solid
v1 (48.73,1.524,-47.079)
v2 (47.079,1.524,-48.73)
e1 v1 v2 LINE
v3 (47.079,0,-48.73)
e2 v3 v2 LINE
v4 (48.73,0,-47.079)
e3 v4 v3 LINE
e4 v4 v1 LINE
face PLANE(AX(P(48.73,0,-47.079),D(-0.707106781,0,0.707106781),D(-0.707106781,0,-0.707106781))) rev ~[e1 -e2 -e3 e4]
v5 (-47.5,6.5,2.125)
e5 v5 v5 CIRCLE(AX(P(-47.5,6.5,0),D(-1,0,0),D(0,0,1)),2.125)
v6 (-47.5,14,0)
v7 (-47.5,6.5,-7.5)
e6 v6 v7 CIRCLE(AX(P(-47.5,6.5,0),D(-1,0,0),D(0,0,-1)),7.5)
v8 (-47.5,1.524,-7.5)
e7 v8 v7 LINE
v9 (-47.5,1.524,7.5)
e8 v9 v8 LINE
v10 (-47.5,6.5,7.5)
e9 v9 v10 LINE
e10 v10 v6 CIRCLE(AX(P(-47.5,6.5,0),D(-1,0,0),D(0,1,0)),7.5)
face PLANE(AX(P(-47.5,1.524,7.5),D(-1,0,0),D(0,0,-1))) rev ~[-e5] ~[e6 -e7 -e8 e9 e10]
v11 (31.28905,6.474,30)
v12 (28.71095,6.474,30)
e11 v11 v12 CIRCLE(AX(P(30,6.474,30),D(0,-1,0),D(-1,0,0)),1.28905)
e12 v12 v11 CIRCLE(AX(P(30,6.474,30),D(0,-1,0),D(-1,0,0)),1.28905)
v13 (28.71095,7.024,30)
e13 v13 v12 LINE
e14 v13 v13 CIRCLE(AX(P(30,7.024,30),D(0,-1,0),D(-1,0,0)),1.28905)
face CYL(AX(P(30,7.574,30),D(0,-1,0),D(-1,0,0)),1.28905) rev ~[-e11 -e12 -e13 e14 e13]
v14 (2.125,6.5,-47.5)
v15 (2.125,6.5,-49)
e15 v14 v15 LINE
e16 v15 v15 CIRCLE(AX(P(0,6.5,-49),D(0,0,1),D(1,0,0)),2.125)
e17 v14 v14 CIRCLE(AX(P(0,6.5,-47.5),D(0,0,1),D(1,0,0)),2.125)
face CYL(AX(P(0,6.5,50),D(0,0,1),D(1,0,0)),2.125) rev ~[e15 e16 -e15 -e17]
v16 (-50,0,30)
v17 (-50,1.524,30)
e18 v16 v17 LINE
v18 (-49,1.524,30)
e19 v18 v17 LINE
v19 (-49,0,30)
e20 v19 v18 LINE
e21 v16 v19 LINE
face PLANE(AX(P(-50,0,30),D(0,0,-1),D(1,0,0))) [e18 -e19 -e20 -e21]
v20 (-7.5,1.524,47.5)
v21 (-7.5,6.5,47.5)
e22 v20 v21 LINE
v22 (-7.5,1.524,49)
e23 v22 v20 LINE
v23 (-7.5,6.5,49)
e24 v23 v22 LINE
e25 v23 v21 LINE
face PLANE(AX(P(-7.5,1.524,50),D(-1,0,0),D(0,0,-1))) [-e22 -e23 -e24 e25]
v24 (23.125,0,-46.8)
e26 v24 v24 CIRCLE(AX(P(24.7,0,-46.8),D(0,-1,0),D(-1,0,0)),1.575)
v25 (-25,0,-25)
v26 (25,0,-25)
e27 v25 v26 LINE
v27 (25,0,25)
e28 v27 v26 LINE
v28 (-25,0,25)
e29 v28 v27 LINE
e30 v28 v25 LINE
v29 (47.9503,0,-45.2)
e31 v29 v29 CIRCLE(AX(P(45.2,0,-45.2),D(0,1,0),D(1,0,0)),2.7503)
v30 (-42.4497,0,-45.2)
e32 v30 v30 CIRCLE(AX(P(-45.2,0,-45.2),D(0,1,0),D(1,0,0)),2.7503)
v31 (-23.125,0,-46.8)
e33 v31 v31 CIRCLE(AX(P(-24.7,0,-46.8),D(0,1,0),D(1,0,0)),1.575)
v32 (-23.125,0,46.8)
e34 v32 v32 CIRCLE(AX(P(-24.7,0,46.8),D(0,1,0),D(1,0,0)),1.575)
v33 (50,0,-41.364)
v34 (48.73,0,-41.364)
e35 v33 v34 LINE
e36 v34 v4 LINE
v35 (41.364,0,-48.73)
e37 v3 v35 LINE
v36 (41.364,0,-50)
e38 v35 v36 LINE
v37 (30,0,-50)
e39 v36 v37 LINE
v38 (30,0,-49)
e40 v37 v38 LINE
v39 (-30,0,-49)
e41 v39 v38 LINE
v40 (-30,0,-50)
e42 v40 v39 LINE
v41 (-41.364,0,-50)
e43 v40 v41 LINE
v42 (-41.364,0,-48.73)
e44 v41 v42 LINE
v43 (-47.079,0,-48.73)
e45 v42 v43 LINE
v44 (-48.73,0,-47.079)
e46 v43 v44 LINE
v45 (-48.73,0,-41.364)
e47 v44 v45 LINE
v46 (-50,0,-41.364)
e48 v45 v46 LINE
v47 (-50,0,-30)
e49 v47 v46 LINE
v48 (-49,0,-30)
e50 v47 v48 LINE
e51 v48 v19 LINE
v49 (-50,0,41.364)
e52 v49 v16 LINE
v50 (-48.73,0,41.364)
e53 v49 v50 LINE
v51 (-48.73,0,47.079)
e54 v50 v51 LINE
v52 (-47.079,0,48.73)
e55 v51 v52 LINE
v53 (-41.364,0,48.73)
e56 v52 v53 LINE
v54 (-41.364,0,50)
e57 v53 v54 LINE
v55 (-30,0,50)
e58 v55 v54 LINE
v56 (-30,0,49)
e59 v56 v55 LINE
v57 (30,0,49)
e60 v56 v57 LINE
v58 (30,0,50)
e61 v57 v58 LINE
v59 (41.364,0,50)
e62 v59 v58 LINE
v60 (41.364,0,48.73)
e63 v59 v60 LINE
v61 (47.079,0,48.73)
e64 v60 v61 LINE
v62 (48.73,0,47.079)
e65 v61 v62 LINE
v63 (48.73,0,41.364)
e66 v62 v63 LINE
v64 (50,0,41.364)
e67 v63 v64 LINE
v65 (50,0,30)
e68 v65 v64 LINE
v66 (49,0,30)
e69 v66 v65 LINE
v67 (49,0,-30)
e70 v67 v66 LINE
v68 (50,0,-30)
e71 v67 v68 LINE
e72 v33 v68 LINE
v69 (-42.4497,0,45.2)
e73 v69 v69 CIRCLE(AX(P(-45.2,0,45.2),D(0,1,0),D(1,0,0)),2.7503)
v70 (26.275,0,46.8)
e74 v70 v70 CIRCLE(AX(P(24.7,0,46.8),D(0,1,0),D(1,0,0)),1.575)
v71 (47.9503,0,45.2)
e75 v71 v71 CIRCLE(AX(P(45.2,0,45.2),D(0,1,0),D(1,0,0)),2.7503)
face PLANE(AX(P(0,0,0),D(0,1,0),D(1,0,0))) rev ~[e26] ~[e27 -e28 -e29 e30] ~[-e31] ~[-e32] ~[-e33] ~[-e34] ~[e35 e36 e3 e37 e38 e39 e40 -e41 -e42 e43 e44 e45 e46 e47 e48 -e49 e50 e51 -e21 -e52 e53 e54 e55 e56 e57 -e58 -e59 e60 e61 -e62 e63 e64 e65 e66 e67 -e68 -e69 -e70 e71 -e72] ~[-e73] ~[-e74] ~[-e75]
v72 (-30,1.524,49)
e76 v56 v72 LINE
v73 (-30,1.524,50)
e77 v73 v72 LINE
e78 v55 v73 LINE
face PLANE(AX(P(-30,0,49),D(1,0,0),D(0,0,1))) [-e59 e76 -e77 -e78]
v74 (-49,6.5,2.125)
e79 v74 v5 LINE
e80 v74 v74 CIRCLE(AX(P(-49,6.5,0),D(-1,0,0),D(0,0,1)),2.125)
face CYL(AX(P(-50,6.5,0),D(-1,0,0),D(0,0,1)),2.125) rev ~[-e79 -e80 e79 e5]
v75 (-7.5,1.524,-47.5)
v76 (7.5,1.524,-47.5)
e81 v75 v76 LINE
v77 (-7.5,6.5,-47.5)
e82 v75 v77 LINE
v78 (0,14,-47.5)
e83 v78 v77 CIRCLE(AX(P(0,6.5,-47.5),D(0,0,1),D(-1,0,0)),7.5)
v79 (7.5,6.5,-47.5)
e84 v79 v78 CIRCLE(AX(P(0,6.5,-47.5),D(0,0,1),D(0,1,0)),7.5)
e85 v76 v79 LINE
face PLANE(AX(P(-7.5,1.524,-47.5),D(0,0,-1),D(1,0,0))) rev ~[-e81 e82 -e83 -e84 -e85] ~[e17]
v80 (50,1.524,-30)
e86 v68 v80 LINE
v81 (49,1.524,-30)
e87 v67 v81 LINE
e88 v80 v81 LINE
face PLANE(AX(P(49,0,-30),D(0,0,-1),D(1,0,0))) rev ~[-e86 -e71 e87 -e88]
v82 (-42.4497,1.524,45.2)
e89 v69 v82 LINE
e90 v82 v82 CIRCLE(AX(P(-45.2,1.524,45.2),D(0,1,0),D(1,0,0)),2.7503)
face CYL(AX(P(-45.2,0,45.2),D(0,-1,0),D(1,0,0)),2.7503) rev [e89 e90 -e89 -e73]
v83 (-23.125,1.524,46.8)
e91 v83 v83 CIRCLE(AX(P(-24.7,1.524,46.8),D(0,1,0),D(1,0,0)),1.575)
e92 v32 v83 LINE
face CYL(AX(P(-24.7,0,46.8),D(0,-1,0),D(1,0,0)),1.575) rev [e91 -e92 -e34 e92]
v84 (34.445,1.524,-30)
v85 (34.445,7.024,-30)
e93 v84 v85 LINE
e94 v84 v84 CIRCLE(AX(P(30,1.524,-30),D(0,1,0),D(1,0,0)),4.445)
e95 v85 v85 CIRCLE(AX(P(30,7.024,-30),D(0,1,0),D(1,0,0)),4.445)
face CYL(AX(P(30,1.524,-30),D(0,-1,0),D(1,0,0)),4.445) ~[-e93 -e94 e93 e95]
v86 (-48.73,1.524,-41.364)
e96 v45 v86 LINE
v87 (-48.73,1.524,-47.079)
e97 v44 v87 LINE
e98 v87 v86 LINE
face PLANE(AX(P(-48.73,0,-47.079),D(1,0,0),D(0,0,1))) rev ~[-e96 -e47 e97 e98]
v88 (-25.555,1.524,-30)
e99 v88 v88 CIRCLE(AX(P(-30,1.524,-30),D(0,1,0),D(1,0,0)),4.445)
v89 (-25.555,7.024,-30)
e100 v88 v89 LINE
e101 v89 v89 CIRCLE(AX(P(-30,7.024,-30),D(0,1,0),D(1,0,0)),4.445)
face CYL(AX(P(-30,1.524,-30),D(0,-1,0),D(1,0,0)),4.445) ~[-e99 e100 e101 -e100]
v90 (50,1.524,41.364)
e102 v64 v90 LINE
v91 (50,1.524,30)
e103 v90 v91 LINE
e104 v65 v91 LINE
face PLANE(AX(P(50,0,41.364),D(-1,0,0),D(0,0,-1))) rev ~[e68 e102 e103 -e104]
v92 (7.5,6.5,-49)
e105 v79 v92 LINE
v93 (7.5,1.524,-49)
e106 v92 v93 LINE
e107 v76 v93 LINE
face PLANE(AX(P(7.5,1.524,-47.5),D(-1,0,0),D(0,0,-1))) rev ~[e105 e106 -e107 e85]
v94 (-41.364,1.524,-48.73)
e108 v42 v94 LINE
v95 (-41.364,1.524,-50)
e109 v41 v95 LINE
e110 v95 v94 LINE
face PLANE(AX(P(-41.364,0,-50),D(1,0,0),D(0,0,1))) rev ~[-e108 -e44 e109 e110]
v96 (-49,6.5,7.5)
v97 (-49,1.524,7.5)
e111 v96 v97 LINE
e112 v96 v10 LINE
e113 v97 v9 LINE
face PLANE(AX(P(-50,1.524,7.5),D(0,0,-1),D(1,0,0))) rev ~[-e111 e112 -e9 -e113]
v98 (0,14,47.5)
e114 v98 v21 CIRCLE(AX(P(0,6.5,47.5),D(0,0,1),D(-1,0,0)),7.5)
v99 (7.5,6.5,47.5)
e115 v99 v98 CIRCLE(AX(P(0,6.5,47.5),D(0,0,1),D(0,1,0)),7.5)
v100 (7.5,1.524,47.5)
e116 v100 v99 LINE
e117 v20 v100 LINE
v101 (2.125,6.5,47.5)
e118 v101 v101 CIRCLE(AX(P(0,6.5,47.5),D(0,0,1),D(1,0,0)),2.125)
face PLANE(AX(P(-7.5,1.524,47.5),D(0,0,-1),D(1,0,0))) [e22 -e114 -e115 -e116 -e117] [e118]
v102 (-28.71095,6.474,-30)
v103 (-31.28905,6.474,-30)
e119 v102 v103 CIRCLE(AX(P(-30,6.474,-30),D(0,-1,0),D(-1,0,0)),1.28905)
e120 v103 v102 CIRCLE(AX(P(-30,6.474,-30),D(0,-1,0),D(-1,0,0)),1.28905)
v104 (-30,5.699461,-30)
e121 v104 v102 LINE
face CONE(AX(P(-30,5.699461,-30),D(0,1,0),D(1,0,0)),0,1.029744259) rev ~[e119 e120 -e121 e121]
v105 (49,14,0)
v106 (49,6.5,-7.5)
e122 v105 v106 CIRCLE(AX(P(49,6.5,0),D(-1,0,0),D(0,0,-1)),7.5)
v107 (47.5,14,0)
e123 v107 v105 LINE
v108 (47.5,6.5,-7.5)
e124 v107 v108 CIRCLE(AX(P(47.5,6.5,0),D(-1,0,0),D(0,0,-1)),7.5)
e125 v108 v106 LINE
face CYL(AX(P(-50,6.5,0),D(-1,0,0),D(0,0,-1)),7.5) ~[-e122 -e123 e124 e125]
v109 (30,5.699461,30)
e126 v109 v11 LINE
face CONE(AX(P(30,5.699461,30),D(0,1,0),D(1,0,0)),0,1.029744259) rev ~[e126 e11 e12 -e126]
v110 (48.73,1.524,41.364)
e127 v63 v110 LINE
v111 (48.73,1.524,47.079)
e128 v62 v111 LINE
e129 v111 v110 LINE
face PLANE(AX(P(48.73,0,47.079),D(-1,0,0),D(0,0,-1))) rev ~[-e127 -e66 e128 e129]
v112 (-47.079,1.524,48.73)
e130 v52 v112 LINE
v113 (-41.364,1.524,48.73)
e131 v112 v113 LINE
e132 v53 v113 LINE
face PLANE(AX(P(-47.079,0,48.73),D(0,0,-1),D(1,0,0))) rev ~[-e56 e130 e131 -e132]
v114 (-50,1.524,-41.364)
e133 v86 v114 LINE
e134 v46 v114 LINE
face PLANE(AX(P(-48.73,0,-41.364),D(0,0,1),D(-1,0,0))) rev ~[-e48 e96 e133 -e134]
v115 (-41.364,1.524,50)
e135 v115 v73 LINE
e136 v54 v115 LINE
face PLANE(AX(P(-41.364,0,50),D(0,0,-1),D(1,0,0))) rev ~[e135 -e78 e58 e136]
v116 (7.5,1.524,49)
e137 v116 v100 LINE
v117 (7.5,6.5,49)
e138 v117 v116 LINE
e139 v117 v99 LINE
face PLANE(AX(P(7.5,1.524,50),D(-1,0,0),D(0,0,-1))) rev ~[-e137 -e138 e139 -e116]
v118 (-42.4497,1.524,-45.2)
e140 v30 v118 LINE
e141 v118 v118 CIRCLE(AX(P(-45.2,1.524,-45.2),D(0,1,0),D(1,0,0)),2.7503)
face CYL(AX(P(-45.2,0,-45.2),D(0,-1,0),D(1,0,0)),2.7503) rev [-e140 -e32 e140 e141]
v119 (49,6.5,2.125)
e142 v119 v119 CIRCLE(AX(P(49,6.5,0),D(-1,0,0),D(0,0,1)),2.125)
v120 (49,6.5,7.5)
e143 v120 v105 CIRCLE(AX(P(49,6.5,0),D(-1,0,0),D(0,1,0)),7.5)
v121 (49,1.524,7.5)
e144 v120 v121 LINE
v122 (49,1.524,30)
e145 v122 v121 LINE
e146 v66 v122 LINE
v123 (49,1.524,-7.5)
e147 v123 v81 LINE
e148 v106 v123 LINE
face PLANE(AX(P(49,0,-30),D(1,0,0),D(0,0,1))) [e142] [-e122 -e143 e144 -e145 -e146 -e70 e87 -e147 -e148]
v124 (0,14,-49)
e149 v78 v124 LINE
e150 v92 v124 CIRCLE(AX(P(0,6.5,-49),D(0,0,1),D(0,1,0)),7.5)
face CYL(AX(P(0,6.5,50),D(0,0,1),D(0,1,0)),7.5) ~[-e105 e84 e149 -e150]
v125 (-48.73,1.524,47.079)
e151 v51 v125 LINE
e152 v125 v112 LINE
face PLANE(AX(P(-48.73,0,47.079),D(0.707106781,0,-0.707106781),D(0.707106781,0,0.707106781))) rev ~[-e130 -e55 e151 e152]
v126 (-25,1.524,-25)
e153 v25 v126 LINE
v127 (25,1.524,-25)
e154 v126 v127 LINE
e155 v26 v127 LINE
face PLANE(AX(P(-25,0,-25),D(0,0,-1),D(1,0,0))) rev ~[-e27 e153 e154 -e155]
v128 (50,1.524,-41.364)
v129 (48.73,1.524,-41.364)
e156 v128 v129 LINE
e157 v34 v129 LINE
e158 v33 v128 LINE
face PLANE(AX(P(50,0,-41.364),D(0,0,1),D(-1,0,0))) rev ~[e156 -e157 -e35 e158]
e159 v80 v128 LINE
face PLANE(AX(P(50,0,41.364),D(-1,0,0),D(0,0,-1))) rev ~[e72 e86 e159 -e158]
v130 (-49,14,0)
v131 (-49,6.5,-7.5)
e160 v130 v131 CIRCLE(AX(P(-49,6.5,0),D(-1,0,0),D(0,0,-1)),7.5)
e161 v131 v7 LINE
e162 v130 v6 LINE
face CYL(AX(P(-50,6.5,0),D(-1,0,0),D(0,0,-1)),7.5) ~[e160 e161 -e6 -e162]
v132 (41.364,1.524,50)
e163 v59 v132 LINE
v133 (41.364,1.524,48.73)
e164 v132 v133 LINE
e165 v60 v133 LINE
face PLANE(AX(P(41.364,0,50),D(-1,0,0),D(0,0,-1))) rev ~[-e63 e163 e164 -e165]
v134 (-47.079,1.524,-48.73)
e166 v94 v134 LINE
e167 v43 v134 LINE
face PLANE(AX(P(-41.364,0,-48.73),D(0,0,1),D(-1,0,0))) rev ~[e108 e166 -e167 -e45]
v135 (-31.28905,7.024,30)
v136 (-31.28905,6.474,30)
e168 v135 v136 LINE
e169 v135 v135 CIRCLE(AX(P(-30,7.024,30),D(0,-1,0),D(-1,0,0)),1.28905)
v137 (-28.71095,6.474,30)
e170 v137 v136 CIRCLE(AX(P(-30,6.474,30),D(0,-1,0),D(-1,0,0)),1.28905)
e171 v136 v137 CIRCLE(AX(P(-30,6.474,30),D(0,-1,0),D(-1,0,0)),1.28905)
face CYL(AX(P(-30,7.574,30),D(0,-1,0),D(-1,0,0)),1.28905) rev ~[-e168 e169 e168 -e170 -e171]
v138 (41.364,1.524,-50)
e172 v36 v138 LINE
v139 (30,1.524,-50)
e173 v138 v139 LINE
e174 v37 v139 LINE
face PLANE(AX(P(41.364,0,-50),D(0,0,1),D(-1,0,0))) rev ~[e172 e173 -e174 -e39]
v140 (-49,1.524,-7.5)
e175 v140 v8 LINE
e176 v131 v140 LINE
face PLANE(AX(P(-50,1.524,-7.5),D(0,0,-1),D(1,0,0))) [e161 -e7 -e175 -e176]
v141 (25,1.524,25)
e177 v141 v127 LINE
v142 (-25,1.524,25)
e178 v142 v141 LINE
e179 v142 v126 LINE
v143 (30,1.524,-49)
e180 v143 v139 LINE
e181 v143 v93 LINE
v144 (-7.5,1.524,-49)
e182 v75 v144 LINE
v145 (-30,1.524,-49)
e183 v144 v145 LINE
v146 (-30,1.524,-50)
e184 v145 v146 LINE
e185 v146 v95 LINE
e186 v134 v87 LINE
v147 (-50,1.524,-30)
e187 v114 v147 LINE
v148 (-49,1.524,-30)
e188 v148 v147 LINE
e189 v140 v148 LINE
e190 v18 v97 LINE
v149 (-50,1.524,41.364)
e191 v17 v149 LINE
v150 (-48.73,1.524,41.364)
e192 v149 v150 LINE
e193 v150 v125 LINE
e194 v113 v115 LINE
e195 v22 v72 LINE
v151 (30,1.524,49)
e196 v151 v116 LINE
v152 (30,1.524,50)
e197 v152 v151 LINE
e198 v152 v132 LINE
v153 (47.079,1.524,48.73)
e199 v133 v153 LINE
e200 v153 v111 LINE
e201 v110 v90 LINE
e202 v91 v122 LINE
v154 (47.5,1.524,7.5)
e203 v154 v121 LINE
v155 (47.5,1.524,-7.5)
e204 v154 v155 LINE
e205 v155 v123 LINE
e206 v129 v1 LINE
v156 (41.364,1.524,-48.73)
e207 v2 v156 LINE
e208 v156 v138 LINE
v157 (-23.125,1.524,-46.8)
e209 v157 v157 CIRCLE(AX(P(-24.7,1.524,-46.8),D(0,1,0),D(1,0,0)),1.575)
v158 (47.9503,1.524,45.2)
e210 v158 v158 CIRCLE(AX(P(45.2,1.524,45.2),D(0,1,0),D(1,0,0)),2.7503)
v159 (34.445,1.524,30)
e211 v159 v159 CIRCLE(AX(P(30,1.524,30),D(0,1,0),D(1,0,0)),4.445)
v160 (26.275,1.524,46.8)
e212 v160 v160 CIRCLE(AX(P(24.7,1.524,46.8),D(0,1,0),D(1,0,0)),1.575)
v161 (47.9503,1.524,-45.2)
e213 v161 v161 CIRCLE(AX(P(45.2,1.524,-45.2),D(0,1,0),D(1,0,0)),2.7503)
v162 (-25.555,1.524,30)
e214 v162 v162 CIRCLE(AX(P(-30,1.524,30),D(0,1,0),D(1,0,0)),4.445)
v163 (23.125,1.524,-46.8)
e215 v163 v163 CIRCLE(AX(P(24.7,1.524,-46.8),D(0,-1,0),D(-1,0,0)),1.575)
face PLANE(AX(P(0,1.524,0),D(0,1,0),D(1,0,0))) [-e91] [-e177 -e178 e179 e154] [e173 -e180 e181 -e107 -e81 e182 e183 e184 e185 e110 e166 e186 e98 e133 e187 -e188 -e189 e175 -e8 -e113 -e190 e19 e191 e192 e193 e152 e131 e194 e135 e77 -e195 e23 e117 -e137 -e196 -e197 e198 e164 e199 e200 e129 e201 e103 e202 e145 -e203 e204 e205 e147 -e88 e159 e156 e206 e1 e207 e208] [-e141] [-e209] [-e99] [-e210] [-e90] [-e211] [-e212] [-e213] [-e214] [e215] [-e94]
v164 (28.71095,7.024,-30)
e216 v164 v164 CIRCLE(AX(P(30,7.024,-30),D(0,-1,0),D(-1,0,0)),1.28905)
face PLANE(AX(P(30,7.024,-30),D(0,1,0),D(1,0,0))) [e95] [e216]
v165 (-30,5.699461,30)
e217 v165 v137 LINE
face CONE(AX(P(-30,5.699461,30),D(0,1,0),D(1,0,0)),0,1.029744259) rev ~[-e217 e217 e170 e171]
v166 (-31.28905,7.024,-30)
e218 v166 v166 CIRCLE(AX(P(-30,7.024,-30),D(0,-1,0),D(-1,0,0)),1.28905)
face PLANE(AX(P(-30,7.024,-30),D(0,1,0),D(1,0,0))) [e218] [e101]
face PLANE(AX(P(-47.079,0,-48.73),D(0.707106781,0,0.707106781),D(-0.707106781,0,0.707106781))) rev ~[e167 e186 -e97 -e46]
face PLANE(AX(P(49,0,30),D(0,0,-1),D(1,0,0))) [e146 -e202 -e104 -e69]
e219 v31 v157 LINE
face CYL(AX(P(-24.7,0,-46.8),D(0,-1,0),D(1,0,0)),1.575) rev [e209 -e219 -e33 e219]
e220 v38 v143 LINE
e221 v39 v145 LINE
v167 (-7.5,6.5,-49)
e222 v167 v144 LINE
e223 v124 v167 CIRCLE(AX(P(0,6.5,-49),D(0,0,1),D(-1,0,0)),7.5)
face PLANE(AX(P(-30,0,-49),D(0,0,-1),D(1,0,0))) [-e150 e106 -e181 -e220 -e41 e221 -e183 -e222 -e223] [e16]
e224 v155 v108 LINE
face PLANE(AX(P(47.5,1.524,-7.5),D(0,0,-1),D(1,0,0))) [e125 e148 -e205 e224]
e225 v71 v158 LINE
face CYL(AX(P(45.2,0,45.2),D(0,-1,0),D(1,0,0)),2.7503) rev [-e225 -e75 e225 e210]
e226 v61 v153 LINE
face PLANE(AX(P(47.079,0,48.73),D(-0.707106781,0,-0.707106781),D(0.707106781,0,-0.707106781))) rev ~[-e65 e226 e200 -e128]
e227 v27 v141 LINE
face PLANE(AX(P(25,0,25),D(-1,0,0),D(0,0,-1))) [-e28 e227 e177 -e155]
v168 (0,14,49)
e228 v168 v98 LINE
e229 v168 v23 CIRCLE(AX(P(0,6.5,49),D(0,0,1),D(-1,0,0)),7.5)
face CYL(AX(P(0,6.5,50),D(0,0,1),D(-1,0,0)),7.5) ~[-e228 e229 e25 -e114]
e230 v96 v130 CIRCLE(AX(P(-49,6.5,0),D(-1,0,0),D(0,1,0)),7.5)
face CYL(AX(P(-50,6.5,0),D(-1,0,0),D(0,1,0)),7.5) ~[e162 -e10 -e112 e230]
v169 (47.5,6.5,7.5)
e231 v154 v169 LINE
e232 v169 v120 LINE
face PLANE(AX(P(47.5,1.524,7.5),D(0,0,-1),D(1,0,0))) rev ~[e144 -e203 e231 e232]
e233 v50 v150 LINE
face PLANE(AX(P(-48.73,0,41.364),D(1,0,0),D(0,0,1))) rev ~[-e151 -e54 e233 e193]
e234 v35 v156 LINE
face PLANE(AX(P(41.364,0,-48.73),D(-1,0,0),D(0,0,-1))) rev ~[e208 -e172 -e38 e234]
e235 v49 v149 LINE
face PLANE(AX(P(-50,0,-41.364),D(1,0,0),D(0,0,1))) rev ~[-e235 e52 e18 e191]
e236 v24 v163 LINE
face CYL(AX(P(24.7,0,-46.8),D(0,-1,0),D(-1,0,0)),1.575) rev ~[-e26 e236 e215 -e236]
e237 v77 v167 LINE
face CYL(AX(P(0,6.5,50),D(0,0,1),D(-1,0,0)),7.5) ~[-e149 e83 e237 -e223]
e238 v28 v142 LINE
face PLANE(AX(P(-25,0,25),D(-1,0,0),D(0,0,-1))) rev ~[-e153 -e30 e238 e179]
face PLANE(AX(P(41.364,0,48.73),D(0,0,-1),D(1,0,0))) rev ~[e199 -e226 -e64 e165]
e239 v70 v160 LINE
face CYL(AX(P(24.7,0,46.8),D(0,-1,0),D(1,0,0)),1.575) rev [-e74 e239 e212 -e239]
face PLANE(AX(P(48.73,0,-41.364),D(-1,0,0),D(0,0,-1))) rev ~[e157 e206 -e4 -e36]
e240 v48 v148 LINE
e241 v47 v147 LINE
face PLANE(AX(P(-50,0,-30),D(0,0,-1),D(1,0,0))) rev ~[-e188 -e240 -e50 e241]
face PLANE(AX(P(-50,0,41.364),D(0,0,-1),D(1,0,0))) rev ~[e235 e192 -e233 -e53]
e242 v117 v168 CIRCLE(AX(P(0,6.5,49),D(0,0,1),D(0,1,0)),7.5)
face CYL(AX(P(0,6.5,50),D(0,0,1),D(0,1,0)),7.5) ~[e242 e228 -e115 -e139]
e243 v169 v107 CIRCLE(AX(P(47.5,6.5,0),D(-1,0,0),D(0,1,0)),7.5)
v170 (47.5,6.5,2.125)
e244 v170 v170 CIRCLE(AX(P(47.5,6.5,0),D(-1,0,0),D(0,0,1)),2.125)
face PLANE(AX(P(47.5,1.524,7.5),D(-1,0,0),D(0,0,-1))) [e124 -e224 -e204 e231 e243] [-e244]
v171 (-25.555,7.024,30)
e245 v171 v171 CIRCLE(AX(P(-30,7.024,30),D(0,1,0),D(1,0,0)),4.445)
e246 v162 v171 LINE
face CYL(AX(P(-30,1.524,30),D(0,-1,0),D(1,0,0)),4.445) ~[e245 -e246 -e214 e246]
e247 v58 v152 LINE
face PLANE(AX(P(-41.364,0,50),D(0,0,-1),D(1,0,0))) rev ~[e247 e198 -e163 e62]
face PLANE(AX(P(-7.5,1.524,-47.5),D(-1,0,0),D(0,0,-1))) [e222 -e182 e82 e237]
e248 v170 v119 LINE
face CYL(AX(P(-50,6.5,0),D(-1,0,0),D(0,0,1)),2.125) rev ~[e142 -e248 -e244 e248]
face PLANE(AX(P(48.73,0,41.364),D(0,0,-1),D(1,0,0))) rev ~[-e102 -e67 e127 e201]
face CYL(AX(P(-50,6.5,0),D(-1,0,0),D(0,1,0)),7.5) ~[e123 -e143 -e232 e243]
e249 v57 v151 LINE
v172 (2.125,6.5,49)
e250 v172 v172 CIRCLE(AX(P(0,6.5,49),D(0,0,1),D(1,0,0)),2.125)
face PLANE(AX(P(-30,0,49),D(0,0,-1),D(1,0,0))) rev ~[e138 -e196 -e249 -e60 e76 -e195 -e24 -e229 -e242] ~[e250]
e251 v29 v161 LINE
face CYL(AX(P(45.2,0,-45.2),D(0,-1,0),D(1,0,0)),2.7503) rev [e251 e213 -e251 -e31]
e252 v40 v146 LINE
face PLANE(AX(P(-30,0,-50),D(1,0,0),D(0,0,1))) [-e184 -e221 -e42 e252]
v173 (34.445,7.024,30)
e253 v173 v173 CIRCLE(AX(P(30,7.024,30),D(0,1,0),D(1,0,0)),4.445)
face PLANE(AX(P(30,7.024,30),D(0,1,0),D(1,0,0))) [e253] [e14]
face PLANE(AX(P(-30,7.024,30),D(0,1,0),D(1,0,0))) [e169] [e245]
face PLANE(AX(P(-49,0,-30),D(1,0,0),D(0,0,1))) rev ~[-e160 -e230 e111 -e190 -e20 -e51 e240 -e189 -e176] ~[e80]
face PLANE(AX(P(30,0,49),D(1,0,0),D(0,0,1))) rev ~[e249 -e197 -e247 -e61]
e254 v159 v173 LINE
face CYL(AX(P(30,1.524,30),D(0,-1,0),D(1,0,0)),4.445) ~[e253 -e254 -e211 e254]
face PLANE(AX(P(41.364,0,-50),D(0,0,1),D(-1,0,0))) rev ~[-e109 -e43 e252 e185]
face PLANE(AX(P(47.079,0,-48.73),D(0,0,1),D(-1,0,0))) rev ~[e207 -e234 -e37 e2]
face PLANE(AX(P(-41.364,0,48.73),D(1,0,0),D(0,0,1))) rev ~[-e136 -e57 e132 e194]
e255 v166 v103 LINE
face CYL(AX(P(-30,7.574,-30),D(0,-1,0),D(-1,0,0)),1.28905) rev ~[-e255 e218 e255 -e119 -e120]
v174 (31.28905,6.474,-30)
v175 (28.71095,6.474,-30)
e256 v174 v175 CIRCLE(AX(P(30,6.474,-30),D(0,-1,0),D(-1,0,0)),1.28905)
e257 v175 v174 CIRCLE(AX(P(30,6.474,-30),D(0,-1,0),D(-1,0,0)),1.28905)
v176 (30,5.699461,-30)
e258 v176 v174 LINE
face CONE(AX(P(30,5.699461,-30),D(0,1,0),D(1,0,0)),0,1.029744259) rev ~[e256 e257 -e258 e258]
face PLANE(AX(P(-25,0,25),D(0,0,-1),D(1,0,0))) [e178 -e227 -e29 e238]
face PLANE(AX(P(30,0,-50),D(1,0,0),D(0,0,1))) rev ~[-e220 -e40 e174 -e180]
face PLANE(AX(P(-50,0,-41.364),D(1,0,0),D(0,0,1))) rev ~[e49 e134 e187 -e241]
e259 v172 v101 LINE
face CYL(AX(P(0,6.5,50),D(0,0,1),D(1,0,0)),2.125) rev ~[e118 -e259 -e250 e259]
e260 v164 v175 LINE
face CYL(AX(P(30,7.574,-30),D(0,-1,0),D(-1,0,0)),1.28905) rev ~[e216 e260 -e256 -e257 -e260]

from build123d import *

# Parameters (mm, degrees)
SKETCH1_R                 = 2.7503
SKETCH1_R_2               = 1.575
SKETCH1_W                 = 50
SKETCH1_H                 = 50
BOSS_EXTRUDE1_DEPTH       = 1.524
SKETCH2_W                 = 15
SKETCH2_H                 = 2.5
SKETCH2_W_2               = 2.5
SKETCH2_H_2               = 15
BOSS_EXTRUDE2_DEPTH       = 12.476
SKETCH3_R                 = 2.125
CUT_EXTRUDE1_DEPTH        = 1
CUT_EXTRUDE1_DEPTH_BACK   = 101
SKETCH4_R                 = 2.125
CUT_EXTRUDE2_DEPTH        = 1
CUT_EXTRUDE2_DEPTH_BACK   = 101
SKETCH5_W                 = 60
SKETCH5_H                 = 1
SKETCH5_W_2               = 1
SKETCH5_H_2               = 60
CUT_EXTRUDE3_DEPTH        = 1
CUT_EXTRUDE3_DEPTH_BACK   = 15
SKETCH6_R                 = 4.445
BOSS_EXTRUDE3_DEPTH       = 5.5
F_5_40_TAPPED_HOLE1_D     = 2.5781
F_5_40_TAPPED_HOLE1_DEPTH = 0.55
F_5_40_TAPPED_HOLE1_TIP   = 0.774539381


with BuildPart() as part:
    # Sketch1 → Boss-Extrude1 (new body)
    with BuildSketch(Plane(origin=(0, 0, 0), x_dir=(1, 0, 0), z_dir=(0, 1, 0))):
        Polygon((41.364, 50), (-41.364, 50), (-41.364, 48.73), (-47.079, 48.73), (-48.73, 47.079), (-48.73, 41.364), (-50, 41.364), (-50, -41.364), (-48.73, -41.364), (-48.73, -47.079), (-47.079, -48.73), (-41.364, -48.73), (-41.364, -50), (41.364, -50), (41.364, -48.73), (47.079, -48.73), (48.73, -47.079), (48.73, -41.364), (50, -41.364), (50, 41.364), (48.73, 41.364), (48.73, 47.079), (47.079, 48.73), (41.364, 48.73), align=None)
        with Locations((-45.2, -45.2)):
            Circle(SKETCH1_R, mode=Mode.SUBTRACT)
        with Locations((-24.7, -46.8)):
            Circle(SKETCH1_R_2, mode=Mode.SUBTRACT)
        with Locations((24.7, -46.8)):
            Circle(SKETCH1_R_2, mode=Mode.SUBTRACT)
        with Locations((45.2, -45.2)):
            Circle(SKETCH1_R, mode=Mode.SUBTRACT)
        Rectangle(SKETCH1_W, SKETCH1_H, mode=Mode.SUBTRACT)
        with Locations((-45.2, 45.2)):
            Circle(SKETCH1_R, mode=Mode.SUBTRACT)
        with Locations((-24.7, 46.8)):
            Circle(SKETCH1_R_2, mode=Mode.SUBTRACT)
        with BuildLine():
            ThreePointArc((26.275, 46.8), (24.7, 45.225), (23.125, 46.8))
            ThreePointArc((23.125, 46.8), (24.7, 48.375), (26.275, 46.8))
        make_face(mode=Mode.SUBTRACT)
        with Locations((45.2, 45.2)):
            Circle(SKETCH1_R, mode=Mode.SUBTRACT)
    extrude(amount=BOSS_EXTRUDE1_DEPTH)

    # Sketch2 → Boss-Extrude2 (add)
    with BuildSketch(Plane(origin=(0, 1.524, 0), x_dir=(1, 0, 0), z_dir=(0, 1, 0))):
        with Locations((0, 48.75)):
            Rectangle(SKETCH2_W, SKETCH2_H)
        with Locations((48.75, 0)):
            Rectangle(SKETCH2_W_2, SKETCH2_H_2)
        with Locations((0, -48.75)):
            Rectangle(SKETCH2_W, SKETCH2_H)
        with Locations((-48.75, 0)):
            Rectangle(SKETCH2_W_2, SKETCH2_H_2)
    extrude(amount=BOSS_EXTRUDE2_DEPTH)

    # Sketch3 → Cut-Extrude1 (cut, two sides)
    with BuildSketch(Plane.XY.offset(50)) as cut_extrude1_sk:
        with BuildLine():
            ThreePointArc((0, 14), (5.303300859, 11.803300859), (7.5, 6.5))
            Line((7.5, 6.5), (7.5, 14))
            Line((7.5, 14), (0, 14))
        make_face()
        with BuildLine():
            ThreePointArc((-7.5, 6.5), (-5.303300859, 11.803300859), (0, 14))
            Line((0, 14), (-7.5, 14))
            Line((-7.5, 14), (-7.5, 6.5))
        make_face()
        with Locations((0, 6.5)):
            Circle(SKETCH3_R)
    extrude(amount=CUT_EXTRUDE1_DEPTH, mode=Mode.SUBTRACT)
    extrude(cut_extrude1_sk.sketch, amount=-CUT_EXTRUDE1_DEPTH_BACK, mode=Mode.SUBTRACT)

    # Sketch4 → Cut-Extrude2 (cut, two sides)
    with BuildSketch(Plane.ZY.offset(50)) as cut_extrude2_sk:
        with Locations((0, 6.5)):
            Circle(SKETCH4_R)
        with BuildLine():
            ThreePointArc((0, 14), (5.303300859, 11.803300859), (7.5, 6.5))
            Line((7.5, 6.5), (7.5, 14))
            Line((7.5, 14), (0, 14))
        make_face()
        with BuildLine():
            ThreePointArc((-7.5, 6.5), (-5.303300859, 11.803300859), (0, 14))
            Line((0, 14), (-7.5, 14))
            Line((-7.5, 14), (-7.5, 6.5))
        make_face()
    extrude(amount=CUT_EXTRUDE2_DEPTH, mode=Mode.SUBTRACT)
    extrude(cut_extrude2_sk.sketch, amount=-CUT_EXTRUDE2_DEPTH_BACK, mode=Mode.SUBTRACT)

    # Sketch5 → Cut-Extrude3 (cut, two sides)
    with BuildSketch(Plane.XZ) as cut_extrude3_sk:
        with Locations((0, -49.5)):
            Rectangle(SKETCH5_W, SKETCH5_H)
        with Locations((-49.5, 0)):
            Rectangle(SKETCH5_W_2, SKETCH5_H_2)
        with Locations((0, 49.5)):
            Rectangle(SKETCH5_W, SKETCH5_H)
        with Locations((49.5, 0)):
            Rectangle(SKETCH5_W_2, SKETCH5_H_2)
    extrude(amount=CUT_EXTRUDE3_DEPTH, mode=Mode.SUBTRACT)
    extrude(cut_extrude3_sk.sketch, amount=-CUT_EXTRUDE3_DEPTH_BACK, mode=Mode.SUBTRACT)

    # Sketch6 → Boss-Extrude3 (add)
    with BuildSketch(Plane(origin=(0, 1.524, 0), x_dir=(1, 0, 0), z_dir=(0, 1, 0))):
        with Locations((30, 30)):
            Circle(SKETCH6_R)
        with Locations((30, -30)):
            Circle(SKETCH6_R)
        with Locations((-30, -30)):
            Circle(SKETCH6_R)
        with Locations((-30, 30)):
            Circle(SKETCH6_R)
    extrude(amount=BOSS_EXTRUDE3_DEPTH)

    # #5-40 Tapped Hole1
    with Locations(Plane(origin=(0, 7.024, 0), x_dir=(1, 0, 0), z_dir=(0, 1, 0))):
        with Locations((-17.222965343, 16.834933913), (-30, 30), (-30, -30), (30, -30), (30, 30)):
            Hole(F_5_40_TAPPED_HOLE1_D / 2, depth=F_5_40_TAPPED_HOLE1_DEPTH)
            with Locations((0, 0, -(F_5_40_TAPPED_HOLE1_DEPTH + F_5_40_TAPPED_HOLE1_TIP / 2))):  # 118° drill point
                Cone(0, F_5_40_TAPPED_HOLE1_D / 2, F_5_40_TAPPED_HOLE1_TIP, mode=Mode.SUBTRACT)


solid = part.part
